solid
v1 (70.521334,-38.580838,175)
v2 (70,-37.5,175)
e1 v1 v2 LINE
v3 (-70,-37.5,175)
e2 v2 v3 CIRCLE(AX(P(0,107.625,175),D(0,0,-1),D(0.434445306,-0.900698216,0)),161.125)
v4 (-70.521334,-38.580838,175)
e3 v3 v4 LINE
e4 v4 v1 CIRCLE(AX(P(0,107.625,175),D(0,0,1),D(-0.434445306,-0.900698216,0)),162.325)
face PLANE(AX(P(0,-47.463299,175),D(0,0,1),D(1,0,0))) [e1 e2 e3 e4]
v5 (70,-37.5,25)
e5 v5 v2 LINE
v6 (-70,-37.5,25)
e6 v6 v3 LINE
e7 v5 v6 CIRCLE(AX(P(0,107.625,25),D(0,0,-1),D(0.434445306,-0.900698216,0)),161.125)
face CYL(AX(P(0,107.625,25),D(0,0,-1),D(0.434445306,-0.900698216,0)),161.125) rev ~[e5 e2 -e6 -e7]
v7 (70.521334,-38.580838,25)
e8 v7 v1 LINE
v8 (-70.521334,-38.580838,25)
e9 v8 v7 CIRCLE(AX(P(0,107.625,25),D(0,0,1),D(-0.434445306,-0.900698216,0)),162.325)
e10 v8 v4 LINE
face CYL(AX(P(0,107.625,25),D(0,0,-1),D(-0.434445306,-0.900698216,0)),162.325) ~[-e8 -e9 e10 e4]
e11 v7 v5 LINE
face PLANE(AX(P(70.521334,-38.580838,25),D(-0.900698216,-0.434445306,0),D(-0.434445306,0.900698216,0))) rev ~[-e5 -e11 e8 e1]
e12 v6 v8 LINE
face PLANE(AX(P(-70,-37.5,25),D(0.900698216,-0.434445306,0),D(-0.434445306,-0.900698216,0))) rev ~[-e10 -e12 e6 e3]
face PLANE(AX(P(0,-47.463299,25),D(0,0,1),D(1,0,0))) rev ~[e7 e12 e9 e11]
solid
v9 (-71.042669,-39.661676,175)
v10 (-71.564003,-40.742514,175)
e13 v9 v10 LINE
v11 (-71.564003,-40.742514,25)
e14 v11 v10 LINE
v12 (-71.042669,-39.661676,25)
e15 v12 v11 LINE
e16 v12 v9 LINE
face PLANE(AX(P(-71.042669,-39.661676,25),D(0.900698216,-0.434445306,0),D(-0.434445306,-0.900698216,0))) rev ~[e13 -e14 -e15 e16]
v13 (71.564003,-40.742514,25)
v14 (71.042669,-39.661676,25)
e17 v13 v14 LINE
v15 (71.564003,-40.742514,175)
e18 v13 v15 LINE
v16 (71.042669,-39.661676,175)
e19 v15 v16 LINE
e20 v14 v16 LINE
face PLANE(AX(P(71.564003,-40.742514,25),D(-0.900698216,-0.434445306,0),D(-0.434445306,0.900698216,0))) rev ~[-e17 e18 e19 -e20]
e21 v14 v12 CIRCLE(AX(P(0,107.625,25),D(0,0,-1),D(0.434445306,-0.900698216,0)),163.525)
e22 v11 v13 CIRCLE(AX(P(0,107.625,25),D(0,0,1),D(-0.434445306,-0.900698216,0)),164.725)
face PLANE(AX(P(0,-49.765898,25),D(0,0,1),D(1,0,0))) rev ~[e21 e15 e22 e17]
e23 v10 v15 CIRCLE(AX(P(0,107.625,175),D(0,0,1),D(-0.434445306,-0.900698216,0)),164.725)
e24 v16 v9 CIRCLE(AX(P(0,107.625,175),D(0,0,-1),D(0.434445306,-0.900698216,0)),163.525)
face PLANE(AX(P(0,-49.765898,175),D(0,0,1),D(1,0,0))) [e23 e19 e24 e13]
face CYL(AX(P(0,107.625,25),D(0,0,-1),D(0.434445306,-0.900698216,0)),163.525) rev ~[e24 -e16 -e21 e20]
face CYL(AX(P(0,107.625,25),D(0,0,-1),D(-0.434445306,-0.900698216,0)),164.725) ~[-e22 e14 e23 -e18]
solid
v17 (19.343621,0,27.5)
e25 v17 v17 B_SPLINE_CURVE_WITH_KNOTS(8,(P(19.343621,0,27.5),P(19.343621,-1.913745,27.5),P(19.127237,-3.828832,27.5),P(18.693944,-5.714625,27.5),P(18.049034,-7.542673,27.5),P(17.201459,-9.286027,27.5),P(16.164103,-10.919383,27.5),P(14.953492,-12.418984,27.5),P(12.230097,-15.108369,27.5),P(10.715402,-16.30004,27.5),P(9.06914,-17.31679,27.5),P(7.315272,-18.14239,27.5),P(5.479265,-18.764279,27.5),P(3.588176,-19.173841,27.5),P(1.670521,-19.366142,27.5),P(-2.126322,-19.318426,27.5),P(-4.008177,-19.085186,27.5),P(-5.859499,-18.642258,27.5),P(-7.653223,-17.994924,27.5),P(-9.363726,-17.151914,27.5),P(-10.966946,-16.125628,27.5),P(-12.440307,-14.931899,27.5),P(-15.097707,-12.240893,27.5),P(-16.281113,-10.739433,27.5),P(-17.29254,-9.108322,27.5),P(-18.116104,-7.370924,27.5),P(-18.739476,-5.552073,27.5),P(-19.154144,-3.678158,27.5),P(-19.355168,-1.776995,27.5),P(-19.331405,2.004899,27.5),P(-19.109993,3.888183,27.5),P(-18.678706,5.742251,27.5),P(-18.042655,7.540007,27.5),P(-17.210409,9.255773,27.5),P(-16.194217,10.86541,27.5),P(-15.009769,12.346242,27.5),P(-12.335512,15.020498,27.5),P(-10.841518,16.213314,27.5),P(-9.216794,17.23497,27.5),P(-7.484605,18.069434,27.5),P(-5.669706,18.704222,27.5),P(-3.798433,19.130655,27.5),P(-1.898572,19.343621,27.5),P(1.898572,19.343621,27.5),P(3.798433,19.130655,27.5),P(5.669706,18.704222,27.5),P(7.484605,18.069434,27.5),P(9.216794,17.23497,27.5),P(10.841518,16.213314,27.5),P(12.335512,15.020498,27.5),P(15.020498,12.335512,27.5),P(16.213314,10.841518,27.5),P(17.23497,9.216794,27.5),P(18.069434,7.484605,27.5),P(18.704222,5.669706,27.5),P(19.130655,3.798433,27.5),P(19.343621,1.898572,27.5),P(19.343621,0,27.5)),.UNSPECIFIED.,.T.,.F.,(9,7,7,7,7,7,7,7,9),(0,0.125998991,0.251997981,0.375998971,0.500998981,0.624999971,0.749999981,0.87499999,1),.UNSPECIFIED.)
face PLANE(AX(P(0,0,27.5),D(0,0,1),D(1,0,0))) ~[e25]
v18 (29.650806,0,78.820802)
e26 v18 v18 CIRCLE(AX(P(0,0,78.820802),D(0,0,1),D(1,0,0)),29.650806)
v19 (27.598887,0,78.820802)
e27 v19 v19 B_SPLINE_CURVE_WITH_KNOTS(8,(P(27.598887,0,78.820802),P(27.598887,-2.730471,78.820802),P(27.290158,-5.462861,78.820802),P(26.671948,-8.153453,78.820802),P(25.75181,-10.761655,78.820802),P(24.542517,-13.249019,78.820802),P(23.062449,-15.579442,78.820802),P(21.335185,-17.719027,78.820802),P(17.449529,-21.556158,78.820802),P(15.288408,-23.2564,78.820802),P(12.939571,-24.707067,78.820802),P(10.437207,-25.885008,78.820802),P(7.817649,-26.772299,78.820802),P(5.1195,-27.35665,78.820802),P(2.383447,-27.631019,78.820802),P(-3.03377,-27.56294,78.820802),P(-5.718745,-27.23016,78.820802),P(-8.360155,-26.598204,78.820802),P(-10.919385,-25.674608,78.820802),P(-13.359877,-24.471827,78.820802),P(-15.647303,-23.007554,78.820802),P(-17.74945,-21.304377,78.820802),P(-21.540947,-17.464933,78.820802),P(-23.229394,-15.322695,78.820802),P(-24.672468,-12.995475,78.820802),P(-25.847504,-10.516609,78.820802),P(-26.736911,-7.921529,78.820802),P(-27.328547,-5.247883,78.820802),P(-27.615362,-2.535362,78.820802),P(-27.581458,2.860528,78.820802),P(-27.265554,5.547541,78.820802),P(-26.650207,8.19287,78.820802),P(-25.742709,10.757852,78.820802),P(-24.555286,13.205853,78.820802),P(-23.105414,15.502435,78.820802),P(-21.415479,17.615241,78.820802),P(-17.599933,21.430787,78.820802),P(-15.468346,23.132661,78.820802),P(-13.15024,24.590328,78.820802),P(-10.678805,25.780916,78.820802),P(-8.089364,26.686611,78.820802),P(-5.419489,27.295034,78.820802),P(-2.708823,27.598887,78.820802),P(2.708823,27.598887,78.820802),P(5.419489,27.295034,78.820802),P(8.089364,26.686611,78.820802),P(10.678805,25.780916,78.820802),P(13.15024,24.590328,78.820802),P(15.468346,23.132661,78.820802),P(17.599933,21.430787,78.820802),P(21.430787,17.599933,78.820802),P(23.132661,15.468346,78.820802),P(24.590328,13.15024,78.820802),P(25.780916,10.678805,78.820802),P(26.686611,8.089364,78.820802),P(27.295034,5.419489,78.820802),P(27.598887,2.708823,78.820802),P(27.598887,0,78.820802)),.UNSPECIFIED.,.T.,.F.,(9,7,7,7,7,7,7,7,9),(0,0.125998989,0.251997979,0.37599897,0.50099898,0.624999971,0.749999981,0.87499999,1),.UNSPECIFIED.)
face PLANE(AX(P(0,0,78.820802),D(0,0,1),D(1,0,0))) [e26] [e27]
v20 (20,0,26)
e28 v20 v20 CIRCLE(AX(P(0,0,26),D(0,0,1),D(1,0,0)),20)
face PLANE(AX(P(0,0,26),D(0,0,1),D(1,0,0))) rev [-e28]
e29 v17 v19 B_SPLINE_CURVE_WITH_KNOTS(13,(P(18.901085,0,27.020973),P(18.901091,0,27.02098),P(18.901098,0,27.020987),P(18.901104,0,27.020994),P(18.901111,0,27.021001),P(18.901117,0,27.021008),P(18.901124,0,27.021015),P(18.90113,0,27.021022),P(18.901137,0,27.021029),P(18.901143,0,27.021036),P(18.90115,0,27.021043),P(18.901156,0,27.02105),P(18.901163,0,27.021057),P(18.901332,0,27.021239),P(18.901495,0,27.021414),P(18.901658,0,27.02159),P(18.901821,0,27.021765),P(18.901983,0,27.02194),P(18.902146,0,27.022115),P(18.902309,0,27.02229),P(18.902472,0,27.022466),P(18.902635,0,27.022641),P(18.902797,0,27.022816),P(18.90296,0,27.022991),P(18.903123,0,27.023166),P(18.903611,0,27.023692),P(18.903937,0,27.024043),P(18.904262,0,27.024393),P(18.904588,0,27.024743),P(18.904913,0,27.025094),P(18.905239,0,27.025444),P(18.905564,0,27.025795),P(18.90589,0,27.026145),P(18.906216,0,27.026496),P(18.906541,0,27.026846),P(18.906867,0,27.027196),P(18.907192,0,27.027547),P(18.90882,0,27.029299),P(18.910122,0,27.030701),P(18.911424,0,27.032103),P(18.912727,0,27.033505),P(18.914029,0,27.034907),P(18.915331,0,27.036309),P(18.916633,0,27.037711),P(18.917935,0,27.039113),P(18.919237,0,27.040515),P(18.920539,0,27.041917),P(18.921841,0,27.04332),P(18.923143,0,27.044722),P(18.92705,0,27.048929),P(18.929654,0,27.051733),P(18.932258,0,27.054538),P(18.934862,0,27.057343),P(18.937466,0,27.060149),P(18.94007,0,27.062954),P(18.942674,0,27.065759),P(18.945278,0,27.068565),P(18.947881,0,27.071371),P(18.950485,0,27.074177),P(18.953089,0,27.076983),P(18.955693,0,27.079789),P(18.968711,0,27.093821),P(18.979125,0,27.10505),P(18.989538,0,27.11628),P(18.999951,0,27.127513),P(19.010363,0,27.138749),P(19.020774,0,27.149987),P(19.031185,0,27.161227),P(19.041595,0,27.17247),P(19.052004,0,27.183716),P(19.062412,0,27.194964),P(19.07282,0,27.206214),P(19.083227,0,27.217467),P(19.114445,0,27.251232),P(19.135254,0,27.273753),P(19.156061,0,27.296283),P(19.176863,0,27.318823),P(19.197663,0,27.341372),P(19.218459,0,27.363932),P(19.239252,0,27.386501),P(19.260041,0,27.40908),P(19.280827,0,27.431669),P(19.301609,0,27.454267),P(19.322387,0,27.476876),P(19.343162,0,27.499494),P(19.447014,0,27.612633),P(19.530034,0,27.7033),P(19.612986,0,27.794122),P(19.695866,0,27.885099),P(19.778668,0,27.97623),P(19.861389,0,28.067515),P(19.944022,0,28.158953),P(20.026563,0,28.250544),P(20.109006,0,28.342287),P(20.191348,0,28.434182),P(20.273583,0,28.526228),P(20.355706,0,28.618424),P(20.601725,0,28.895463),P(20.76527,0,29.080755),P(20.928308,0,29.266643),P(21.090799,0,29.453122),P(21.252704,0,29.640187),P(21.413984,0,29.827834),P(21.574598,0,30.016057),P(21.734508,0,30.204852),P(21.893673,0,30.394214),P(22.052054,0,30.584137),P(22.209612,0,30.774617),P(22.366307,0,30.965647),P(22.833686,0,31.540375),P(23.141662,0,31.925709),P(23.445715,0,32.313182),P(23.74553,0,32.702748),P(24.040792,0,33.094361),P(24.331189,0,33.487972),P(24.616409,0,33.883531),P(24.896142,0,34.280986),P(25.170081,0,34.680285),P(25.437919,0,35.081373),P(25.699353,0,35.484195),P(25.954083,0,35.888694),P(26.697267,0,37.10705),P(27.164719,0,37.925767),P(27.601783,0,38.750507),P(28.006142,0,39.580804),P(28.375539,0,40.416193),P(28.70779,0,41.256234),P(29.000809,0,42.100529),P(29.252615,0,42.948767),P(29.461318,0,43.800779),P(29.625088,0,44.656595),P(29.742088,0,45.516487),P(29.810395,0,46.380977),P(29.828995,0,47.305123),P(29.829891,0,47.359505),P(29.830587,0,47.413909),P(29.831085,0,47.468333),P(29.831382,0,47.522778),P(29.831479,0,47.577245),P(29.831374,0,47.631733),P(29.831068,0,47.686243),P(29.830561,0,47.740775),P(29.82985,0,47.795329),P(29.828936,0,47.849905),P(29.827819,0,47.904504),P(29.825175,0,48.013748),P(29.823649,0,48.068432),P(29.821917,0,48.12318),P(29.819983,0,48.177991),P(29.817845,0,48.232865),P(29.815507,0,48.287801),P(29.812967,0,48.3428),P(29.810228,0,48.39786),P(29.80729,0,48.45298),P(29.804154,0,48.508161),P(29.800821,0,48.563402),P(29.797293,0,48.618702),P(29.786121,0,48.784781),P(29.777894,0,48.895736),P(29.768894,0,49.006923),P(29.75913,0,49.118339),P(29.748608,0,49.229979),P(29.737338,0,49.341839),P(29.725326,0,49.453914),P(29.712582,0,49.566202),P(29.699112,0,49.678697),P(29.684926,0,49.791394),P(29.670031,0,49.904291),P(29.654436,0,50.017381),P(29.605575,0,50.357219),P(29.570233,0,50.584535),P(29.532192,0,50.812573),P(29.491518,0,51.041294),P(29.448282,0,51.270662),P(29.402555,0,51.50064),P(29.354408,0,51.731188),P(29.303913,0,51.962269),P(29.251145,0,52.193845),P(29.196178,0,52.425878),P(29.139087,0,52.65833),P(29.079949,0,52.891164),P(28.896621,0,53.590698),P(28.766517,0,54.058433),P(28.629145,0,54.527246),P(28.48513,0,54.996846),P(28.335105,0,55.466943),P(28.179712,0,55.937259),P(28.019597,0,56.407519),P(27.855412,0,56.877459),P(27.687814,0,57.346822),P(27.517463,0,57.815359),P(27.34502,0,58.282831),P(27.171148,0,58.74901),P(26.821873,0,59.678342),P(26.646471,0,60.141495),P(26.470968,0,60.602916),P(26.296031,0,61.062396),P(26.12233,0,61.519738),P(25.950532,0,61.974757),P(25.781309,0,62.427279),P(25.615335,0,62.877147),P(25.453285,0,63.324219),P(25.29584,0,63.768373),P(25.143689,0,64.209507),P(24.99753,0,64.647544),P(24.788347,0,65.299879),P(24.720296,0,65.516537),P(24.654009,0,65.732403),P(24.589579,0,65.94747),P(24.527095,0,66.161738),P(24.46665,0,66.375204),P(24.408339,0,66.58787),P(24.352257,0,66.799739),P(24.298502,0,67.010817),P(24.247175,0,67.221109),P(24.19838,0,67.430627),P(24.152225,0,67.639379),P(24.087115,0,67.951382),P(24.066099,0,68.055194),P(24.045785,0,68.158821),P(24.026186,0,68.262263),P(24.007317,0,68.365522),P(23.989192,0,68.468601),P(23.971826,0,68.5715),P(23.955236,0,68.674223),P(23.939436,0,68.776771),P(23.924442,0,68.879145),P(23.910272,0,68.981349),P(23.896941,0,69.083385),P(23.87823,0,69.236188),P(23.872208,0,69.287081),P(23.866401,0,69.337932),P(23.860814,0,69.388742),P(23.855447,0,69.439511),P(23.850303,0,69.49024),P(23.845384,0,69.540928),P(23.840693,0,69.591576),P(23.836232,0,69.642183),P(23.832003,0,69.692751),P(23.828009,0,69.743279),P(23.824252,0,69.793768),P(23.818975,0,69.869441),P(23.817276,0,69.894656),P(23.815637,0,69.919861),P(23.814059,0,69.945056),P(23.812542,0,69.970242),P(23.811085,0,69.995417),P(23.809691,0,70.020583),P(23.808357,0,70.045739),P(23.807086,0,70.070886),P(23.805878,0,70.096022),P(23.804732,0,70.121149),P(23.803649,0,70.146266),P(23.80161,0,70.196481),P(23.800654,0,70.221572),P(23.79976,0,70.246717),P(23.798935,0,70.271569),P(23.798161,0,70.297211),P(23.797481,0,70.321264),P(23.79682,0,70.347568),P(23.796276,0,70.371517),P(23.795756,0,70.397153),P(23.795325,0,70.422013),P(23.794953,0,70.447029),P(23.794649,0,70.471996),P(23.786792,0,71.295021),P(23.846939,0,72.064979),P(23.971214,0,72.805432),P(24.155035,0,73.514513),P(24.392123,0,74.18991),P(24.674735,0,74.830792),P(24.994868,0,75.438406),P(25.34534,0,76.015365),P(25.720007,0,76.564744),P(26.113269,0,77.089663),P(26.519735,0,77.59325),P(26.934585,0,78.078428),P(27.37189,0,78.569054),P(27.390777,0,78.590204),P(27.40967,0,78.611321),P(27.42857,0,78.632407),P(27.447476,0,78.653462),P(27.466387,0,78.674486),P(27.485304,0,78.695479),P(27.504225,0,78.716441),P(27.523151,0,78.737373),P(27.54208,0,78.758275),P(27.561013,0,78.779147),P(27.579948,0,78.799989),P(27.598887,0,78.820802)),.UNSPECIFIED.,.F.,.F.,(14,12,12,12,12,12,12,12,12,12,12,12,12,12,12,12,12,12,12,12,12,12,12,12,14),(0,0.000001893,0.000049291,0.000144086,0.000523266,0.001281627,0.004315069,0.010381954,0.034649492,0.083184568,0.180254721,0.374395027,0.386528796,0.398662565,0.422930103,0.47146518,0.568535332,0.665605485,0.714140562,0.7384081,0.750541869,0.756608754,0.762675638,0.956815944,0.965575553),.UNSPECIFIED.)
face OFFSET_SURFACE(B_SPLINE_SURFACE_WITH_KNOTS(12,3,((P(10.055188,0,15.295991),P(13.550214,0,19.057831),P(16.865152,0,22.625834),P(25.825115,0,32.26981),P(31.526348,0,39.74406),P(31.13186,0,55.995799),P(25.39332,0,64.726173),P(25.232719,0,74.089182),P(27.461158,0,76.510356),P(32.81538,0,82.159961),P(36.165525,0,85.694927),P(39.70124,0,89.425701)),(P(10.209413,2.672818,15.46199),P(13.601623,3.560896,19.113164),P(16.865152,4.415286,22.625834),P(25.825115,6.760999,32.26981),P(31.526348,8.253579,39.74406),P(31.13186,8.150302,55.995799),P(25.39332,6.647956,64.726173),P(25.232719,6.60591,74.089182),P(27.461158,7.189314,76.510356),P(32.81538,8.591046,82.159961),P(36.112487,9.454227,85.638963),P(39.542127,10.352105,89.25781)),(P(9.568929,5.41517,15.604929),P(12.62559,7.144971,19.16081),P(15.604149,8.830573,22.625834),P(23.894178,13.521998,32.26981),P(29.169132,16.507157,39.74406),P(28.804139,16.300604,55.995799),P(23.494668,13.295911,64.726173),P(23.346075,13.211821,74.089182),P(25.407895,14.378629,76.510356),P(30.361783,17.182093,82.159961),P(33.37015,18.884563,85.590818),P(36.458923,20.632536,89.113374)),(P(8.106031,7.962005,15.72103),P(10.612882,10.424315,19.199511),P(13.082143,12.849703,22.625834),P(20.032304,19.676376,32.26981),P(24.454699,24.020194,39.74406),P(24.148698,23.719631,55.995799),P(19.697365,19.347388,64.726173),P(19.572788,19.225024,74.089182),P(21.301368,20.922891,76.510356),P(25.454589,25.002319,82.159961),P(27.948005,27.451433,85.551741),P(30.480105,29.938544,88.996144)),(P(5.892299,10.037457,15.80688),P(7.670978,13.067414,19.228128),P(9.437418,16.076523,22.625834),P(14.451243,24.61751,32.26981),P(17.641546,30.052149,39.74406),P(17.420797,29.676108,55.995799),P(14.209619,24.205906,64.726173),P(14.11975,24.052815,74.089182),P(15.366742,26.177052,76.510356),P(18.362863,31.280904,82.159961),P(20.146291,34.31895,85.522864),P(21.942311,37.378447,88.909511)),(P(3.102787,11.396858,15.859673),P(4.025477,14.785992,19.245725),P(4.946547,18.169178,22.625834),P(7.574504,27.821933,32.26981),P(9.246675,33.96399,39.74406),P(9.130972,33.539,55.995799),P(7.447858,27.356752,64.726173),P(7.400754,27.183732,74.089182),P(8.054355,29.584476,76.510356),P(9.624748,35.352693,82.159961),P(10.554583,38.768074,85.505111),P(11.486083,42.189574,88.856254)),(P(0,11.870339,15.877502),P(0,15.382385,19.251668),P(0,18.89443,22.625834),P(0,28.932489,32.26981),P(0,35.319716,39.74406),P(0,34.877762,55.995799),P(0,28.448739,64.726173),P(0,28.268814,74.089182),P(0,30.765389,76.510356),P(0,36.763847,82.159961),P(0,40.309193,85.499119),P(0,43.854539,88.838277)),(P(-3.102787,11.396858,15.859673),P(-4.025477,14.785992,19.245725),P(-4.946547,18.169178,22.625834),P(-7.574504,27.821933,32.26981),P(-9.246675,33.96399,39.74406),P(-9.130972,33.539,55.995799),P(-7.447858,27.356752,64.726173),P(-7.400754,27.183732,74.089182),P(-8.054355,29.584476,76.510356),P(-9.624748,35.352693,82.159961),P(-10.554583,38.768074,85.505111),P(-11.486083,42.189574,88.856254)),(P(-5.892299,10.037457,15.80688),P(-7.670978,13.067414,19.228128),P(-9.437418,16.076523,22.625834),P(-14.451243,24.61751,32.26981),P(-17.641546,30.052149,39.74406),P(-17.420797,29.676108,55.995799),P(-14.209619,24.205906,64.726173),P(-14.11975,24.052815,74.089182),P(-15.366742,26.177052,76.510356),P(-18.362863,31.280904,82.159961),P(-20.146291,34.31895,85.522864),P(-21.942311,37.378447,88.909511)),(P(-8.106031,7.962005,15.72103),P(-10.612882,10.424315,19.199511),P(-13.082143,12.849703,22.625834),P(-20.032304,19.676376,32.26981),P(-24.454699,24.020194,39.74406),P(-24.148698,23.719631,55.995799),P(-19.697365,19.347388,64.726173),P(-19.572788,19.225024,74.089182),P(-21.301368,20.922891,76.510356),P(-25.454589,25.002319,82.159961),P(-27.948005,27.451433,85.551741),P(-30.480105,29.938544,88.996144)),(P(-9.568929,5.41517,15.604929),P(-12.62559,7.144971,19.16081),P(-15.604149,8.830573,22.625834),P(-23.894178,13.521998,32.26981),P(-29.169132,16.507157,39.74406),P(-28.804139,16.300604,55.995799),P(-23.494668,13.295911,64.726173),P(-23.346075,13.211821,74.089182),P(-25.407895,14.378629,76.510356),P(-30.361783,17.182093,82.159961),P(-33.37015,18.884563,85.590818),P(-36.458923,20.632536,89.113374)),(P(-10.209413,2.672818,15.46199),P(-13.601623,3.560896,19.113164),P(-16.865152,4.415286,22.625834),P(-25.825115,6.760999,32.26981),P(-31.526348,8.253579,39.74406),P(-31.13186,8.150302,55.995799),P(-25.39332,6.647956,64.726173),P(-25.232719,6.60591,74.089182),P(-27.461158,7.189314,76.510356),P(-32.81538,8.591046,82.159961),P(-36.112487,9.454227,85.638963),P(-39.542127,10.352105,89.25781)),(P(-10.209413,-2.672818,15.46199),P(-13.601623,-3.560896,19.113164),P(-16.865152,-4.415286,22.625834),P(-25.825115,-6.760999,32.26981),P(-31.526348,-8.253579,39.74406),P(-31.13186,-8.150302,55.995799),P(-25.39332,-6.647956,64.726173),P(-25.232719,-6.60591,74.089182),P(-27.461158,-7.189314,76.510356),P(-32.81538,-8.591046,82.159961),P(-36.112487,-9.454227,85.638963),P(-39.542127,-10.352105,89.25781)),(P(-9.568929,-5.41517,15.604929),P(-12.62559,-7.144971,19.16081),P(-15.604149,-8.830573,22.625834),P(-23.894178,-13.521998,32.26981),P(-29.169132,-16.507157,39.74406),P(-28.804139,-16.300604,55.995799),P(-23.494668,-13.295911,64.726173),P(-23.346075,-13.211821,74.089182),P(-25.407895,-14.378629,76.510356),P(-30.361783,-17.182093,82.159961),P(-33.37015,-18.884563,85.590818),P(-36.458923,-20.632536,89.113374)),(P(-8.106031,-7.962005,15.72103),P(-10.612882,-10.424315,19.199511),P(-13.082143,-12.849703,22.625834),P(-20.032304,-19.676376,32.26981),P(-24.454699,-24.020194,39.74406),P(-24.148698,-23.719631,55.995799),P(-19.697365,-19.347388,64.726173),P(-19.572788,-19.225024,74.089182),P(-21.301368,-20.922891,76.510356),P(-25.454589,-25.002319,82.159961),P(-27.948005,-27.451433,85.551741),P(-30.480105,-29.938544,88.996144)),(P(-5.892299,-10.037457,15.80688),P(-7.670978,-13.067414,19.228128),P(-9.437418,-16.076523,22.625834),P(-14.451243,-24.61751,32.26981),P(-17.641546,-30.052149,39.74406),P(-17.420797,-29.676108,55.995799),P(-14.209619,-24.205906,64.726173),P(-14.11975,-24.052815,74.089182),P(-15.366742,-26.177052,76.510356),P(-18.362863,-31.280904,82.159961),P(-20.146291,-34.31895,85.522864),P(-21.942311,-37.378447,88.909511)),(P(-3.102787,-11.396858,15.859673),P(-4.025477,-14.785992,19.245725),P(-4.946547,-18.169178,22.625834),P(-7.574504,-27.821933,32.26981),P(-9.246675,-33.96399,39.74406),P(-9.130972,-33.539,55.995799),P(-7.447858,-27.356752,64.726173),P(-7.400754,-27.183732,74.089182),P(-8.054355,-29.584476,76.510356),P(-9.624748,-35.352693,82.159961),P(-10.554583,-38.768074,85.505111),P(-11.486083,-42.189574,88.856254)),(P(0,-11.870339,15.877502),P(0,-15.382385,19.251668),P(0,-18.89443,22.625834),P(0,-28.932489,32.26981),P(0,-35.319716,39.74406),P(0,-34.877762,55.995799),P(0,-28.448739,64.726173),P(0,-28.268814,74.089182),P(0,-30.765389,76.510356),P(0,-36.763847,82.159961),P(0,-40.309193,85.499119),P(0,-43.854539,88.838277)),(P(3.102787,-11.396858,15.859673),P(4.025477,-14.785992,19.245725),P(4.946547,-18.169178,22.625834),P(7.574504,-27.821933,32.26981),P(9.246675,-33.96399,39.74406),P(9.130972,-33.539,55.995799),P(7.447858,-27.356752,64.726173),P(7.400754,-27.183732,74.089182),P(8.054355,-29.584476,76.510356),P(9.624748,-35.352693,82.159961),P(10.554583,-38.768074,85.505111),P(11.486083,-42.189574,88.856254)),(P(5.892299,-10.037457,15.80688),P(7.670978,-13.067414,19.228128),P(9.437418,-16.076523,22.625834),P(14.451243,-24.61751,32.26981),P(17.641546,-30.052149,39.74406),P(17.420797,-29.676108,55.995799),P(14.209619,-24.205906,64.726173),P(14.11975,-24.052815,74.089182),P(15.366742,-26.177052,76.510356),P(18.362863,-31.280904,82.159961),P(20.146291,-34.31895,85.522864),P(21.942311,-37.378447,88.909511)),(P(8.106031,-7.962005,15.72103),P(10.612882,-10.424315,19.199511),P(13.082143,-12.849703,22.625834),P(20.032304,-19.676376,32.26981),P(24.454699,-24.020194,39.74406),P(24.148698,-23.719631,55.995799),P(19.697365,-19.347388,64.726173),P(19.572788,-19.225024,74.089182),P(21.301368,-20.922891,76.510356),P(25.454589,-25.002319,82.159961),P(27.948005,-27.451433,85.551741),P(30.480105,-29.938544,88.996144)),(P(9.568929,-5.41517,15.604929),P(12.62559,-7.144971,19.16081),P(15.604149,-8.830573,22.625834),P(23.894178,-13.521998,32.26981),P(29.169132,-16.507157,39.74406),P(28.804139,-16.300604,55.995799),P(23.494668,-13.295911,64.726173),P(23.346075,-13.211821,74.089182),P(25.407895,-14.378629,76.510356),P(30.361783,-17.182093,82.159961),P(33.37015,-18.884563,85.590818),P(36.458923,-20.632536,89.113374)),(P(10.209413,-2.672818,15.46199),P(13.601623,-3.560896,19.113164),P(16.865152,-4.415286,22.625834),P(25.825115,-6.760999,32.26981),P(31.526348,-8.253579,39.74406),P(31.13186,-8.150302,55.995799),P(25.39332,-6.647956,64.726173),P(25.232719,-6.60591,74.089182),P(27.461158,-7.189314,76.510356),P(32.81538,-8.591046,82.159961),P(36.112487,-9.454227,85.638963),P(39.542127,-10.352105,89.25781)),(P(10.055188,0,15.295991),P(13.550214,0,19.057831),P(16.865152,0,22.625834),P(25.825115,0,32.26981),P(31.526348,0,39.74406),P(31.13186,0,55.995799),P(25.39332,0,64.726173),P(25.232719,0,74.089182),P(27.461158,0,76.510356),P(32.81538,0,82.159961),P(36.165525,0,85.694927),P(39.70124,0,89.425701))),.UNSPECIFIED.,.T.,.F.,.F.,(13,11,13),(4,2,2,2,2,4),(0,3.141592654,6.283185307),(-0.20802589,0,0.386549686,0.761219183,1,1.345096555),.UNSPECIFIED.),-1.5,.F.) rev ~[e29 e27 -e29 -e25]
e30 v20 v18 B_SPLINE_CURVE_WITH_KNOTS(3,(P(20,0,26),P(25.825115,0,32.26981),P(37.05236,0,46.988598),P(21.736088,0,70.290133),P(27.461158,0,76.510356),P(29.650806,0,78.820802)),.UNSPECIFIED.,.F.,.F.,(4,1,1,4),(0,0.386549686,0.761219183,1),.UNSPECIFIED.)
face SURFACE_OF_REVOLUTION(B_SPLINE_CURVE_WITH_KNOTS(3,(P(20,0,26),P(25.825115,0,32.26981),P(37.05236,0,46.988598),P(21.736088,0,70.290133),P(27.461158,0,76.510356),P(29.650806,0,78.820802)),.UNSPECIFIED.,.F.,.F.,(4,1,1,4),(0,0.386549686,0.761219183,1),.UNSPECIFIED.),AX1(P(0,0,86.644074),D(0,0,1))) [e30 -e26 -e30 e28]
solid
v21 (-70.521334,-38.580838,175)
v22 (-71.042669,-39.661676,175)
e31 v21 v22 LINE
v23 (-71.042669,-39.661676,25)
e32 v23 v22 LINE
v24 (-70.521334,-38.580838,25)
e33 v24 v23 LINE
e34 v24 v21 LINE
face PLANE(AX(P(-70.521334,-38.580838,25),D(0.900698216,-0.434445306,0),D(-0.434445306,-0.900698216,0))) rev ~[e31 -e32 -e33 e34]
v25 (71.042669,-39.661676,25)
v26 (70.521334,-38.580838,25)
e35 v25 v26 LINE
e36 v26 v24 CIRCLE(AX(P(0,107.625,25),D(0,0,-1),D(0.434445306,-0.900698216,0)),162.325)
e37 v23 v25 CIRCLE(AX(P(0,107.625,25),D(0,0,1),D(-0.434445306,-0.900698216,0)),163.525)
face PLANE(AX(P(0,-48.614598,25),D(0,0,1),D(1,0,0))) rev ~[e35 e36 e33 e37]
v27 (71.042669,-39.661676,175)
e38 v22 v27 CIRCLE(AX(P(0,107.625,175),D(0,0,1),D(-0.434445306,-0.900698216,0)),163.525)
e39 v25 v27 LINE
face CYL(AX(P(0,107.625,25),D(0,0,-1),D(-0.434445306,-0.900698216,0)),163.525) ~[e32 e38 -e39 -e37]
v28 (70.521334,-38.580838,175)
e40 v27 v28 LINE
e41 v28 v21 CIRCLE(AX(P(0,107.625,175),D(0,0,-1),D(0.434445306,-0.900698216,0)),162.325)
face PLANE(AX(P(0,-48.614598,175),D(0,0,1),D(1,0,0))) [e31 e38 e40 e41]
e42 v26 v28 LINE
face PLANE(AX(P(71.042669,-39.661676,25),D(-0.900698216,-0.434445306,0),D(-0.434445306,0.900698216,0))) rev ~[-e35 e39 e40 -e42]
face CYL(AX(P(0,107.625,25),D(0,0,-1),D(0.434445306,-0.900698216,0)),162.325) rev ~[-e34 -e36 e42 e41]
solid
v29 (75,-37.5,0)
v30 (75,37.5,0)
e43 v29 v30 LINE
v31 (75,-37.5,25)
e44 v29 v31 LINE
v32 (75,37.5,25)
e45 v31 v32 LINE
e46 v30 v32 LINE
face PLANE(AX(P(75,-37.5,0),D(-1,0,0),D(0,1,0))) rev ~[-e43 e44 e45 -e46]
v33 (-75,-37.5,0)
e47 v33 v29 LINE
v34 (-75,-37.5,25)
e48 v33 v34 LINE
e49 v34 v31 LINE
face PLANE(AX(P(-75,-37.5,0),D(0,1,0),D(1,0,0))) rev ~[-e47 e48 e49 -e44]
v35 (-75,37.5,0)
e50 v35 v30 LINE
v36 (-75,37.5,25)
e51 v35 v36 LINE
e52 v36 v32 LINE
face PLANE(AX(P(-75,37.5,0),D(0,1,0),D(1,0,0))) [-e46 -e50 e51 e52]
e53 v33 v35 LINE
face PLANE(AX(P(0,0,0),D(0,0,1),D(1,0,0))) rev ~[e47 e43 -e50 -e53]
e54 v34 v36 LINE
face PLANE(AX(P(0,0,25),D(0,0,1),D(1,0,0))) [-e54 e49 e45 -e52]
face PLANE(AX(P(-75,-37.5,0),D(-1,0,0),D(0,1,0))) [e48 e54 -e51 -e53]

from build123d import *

# Parameters (mm, degrees)
F0_W     = 150
F0_H     = 75
F1_DEPTH = 25
F3_DEPTH = 150
F5_DEPTH = 150
F7_DEPTH = 150
F10_T    = -1.5


with BuildPart() as f1:
    # F0 (on Top) → F1 (new body)
    with BuildSketch(Plane.XY):
        Rectangle(F0_W, F0_H)
    extrude(amount=F1_DEPTH)


with BuildPart() as f3:
    # F2 (on face) → F3 (new body)
    with BuildSketch(Plane.XY.offset(25)):
        with BuildLine():
            ThreePointArc((70, -37.5), (0, -53.5), (-70, -37.5))
            Line((-70, -37.5), (-70.5213343677, -38.5808378588))
            ThreePointArc((-70.5213343677, -38.5808378588), (0, -54.7), (70.5213343677, -38.5808378588))
            Line((70.5213343677, -38.5808378588), (70, -37.5))
        make_face()
    extrude(amount=F3_DEPTH)


with BuildPart() as f5:
    # F4 (on face) → F5 (new body)
    with BuildSketch(Plane.XY.offset(25)):
        with BuildLine():
            ThreePointArc((70.5213343677, -38.5808378588), (0, -54.7), (-70.5213343677, -38.5808378588))
            Line((-70.5213343677, -38.5808378588), (-71.0426687355, -39.6616757176))
            ThreePointArc((-71.0426687355, -39.6616757176), (0, -55.9), (71.0426687355, -39.6616757176))
            Line((71.0426687355, -39.6616757176), (70.5213343677, -38.5808378588))
        make_face()
    extrude(amount=F5_DEPTH)


with BuildPart() as f7:
    # F6 (on face) → F7 (new body)
    with BuildSketch(Plane.XY.offset(25)):
        with BuildLine():
            ThreePointArc((71.0426687355, -39.6616757176), (0, -55.9), (-71.0426687355, -39.6616757176))
            Line((-71.0426687355, -39.6616757176), (-71.5640031032, -40.7425135764))
            ThreePointArc((-71.5640031032, -40.7425135764), (0, -57.1), (71.5640031032, -40.7425135764))
            Line((71.5640031032, -40.7425135764), (71.0426687355, -39.6616757176))
        make_face()
    extrude(amount=F7_DEPTH)


with BuildPart() as f9:
    # F8 (on Front) → F9 (revolve)
    with BuildSketch(Plane.XZ):
        with BuildLine():
            Line((0, 78.8208022714), (0, 26))
            Line((0, 26), (20, 26))
            add(Edge.make_bspline(
                [(20, 26), (25.8251146772, 32.2698097017), (37.052360313, 46.9885975137), (21.7360878614, 70.29013323), (27.4611583794, 76.5103562412), (29.650805518, 78.8208022714)],
                knots=[0, 0, 0, 0, 0.3865496862, 0.7612191828, 1, 1, 1, 1], degree=3))
            Line((29.650805518, 78.8208022714), (0, 78.8208022714))
        make_face()
    revolve(axis=Axis((0, 0, 86.6440743882), (0, 0, 1)))

    # F10
    f10_openings = [f9.faces().sort_by_distance(p)[0] for p in [
        (0, 0, 78.820802),
    ]]
    offset(amount=F10_T, openings=f10_openings)


solid = Compound([f1.part, f3.part, f5.part, f7.part, f9.part])
